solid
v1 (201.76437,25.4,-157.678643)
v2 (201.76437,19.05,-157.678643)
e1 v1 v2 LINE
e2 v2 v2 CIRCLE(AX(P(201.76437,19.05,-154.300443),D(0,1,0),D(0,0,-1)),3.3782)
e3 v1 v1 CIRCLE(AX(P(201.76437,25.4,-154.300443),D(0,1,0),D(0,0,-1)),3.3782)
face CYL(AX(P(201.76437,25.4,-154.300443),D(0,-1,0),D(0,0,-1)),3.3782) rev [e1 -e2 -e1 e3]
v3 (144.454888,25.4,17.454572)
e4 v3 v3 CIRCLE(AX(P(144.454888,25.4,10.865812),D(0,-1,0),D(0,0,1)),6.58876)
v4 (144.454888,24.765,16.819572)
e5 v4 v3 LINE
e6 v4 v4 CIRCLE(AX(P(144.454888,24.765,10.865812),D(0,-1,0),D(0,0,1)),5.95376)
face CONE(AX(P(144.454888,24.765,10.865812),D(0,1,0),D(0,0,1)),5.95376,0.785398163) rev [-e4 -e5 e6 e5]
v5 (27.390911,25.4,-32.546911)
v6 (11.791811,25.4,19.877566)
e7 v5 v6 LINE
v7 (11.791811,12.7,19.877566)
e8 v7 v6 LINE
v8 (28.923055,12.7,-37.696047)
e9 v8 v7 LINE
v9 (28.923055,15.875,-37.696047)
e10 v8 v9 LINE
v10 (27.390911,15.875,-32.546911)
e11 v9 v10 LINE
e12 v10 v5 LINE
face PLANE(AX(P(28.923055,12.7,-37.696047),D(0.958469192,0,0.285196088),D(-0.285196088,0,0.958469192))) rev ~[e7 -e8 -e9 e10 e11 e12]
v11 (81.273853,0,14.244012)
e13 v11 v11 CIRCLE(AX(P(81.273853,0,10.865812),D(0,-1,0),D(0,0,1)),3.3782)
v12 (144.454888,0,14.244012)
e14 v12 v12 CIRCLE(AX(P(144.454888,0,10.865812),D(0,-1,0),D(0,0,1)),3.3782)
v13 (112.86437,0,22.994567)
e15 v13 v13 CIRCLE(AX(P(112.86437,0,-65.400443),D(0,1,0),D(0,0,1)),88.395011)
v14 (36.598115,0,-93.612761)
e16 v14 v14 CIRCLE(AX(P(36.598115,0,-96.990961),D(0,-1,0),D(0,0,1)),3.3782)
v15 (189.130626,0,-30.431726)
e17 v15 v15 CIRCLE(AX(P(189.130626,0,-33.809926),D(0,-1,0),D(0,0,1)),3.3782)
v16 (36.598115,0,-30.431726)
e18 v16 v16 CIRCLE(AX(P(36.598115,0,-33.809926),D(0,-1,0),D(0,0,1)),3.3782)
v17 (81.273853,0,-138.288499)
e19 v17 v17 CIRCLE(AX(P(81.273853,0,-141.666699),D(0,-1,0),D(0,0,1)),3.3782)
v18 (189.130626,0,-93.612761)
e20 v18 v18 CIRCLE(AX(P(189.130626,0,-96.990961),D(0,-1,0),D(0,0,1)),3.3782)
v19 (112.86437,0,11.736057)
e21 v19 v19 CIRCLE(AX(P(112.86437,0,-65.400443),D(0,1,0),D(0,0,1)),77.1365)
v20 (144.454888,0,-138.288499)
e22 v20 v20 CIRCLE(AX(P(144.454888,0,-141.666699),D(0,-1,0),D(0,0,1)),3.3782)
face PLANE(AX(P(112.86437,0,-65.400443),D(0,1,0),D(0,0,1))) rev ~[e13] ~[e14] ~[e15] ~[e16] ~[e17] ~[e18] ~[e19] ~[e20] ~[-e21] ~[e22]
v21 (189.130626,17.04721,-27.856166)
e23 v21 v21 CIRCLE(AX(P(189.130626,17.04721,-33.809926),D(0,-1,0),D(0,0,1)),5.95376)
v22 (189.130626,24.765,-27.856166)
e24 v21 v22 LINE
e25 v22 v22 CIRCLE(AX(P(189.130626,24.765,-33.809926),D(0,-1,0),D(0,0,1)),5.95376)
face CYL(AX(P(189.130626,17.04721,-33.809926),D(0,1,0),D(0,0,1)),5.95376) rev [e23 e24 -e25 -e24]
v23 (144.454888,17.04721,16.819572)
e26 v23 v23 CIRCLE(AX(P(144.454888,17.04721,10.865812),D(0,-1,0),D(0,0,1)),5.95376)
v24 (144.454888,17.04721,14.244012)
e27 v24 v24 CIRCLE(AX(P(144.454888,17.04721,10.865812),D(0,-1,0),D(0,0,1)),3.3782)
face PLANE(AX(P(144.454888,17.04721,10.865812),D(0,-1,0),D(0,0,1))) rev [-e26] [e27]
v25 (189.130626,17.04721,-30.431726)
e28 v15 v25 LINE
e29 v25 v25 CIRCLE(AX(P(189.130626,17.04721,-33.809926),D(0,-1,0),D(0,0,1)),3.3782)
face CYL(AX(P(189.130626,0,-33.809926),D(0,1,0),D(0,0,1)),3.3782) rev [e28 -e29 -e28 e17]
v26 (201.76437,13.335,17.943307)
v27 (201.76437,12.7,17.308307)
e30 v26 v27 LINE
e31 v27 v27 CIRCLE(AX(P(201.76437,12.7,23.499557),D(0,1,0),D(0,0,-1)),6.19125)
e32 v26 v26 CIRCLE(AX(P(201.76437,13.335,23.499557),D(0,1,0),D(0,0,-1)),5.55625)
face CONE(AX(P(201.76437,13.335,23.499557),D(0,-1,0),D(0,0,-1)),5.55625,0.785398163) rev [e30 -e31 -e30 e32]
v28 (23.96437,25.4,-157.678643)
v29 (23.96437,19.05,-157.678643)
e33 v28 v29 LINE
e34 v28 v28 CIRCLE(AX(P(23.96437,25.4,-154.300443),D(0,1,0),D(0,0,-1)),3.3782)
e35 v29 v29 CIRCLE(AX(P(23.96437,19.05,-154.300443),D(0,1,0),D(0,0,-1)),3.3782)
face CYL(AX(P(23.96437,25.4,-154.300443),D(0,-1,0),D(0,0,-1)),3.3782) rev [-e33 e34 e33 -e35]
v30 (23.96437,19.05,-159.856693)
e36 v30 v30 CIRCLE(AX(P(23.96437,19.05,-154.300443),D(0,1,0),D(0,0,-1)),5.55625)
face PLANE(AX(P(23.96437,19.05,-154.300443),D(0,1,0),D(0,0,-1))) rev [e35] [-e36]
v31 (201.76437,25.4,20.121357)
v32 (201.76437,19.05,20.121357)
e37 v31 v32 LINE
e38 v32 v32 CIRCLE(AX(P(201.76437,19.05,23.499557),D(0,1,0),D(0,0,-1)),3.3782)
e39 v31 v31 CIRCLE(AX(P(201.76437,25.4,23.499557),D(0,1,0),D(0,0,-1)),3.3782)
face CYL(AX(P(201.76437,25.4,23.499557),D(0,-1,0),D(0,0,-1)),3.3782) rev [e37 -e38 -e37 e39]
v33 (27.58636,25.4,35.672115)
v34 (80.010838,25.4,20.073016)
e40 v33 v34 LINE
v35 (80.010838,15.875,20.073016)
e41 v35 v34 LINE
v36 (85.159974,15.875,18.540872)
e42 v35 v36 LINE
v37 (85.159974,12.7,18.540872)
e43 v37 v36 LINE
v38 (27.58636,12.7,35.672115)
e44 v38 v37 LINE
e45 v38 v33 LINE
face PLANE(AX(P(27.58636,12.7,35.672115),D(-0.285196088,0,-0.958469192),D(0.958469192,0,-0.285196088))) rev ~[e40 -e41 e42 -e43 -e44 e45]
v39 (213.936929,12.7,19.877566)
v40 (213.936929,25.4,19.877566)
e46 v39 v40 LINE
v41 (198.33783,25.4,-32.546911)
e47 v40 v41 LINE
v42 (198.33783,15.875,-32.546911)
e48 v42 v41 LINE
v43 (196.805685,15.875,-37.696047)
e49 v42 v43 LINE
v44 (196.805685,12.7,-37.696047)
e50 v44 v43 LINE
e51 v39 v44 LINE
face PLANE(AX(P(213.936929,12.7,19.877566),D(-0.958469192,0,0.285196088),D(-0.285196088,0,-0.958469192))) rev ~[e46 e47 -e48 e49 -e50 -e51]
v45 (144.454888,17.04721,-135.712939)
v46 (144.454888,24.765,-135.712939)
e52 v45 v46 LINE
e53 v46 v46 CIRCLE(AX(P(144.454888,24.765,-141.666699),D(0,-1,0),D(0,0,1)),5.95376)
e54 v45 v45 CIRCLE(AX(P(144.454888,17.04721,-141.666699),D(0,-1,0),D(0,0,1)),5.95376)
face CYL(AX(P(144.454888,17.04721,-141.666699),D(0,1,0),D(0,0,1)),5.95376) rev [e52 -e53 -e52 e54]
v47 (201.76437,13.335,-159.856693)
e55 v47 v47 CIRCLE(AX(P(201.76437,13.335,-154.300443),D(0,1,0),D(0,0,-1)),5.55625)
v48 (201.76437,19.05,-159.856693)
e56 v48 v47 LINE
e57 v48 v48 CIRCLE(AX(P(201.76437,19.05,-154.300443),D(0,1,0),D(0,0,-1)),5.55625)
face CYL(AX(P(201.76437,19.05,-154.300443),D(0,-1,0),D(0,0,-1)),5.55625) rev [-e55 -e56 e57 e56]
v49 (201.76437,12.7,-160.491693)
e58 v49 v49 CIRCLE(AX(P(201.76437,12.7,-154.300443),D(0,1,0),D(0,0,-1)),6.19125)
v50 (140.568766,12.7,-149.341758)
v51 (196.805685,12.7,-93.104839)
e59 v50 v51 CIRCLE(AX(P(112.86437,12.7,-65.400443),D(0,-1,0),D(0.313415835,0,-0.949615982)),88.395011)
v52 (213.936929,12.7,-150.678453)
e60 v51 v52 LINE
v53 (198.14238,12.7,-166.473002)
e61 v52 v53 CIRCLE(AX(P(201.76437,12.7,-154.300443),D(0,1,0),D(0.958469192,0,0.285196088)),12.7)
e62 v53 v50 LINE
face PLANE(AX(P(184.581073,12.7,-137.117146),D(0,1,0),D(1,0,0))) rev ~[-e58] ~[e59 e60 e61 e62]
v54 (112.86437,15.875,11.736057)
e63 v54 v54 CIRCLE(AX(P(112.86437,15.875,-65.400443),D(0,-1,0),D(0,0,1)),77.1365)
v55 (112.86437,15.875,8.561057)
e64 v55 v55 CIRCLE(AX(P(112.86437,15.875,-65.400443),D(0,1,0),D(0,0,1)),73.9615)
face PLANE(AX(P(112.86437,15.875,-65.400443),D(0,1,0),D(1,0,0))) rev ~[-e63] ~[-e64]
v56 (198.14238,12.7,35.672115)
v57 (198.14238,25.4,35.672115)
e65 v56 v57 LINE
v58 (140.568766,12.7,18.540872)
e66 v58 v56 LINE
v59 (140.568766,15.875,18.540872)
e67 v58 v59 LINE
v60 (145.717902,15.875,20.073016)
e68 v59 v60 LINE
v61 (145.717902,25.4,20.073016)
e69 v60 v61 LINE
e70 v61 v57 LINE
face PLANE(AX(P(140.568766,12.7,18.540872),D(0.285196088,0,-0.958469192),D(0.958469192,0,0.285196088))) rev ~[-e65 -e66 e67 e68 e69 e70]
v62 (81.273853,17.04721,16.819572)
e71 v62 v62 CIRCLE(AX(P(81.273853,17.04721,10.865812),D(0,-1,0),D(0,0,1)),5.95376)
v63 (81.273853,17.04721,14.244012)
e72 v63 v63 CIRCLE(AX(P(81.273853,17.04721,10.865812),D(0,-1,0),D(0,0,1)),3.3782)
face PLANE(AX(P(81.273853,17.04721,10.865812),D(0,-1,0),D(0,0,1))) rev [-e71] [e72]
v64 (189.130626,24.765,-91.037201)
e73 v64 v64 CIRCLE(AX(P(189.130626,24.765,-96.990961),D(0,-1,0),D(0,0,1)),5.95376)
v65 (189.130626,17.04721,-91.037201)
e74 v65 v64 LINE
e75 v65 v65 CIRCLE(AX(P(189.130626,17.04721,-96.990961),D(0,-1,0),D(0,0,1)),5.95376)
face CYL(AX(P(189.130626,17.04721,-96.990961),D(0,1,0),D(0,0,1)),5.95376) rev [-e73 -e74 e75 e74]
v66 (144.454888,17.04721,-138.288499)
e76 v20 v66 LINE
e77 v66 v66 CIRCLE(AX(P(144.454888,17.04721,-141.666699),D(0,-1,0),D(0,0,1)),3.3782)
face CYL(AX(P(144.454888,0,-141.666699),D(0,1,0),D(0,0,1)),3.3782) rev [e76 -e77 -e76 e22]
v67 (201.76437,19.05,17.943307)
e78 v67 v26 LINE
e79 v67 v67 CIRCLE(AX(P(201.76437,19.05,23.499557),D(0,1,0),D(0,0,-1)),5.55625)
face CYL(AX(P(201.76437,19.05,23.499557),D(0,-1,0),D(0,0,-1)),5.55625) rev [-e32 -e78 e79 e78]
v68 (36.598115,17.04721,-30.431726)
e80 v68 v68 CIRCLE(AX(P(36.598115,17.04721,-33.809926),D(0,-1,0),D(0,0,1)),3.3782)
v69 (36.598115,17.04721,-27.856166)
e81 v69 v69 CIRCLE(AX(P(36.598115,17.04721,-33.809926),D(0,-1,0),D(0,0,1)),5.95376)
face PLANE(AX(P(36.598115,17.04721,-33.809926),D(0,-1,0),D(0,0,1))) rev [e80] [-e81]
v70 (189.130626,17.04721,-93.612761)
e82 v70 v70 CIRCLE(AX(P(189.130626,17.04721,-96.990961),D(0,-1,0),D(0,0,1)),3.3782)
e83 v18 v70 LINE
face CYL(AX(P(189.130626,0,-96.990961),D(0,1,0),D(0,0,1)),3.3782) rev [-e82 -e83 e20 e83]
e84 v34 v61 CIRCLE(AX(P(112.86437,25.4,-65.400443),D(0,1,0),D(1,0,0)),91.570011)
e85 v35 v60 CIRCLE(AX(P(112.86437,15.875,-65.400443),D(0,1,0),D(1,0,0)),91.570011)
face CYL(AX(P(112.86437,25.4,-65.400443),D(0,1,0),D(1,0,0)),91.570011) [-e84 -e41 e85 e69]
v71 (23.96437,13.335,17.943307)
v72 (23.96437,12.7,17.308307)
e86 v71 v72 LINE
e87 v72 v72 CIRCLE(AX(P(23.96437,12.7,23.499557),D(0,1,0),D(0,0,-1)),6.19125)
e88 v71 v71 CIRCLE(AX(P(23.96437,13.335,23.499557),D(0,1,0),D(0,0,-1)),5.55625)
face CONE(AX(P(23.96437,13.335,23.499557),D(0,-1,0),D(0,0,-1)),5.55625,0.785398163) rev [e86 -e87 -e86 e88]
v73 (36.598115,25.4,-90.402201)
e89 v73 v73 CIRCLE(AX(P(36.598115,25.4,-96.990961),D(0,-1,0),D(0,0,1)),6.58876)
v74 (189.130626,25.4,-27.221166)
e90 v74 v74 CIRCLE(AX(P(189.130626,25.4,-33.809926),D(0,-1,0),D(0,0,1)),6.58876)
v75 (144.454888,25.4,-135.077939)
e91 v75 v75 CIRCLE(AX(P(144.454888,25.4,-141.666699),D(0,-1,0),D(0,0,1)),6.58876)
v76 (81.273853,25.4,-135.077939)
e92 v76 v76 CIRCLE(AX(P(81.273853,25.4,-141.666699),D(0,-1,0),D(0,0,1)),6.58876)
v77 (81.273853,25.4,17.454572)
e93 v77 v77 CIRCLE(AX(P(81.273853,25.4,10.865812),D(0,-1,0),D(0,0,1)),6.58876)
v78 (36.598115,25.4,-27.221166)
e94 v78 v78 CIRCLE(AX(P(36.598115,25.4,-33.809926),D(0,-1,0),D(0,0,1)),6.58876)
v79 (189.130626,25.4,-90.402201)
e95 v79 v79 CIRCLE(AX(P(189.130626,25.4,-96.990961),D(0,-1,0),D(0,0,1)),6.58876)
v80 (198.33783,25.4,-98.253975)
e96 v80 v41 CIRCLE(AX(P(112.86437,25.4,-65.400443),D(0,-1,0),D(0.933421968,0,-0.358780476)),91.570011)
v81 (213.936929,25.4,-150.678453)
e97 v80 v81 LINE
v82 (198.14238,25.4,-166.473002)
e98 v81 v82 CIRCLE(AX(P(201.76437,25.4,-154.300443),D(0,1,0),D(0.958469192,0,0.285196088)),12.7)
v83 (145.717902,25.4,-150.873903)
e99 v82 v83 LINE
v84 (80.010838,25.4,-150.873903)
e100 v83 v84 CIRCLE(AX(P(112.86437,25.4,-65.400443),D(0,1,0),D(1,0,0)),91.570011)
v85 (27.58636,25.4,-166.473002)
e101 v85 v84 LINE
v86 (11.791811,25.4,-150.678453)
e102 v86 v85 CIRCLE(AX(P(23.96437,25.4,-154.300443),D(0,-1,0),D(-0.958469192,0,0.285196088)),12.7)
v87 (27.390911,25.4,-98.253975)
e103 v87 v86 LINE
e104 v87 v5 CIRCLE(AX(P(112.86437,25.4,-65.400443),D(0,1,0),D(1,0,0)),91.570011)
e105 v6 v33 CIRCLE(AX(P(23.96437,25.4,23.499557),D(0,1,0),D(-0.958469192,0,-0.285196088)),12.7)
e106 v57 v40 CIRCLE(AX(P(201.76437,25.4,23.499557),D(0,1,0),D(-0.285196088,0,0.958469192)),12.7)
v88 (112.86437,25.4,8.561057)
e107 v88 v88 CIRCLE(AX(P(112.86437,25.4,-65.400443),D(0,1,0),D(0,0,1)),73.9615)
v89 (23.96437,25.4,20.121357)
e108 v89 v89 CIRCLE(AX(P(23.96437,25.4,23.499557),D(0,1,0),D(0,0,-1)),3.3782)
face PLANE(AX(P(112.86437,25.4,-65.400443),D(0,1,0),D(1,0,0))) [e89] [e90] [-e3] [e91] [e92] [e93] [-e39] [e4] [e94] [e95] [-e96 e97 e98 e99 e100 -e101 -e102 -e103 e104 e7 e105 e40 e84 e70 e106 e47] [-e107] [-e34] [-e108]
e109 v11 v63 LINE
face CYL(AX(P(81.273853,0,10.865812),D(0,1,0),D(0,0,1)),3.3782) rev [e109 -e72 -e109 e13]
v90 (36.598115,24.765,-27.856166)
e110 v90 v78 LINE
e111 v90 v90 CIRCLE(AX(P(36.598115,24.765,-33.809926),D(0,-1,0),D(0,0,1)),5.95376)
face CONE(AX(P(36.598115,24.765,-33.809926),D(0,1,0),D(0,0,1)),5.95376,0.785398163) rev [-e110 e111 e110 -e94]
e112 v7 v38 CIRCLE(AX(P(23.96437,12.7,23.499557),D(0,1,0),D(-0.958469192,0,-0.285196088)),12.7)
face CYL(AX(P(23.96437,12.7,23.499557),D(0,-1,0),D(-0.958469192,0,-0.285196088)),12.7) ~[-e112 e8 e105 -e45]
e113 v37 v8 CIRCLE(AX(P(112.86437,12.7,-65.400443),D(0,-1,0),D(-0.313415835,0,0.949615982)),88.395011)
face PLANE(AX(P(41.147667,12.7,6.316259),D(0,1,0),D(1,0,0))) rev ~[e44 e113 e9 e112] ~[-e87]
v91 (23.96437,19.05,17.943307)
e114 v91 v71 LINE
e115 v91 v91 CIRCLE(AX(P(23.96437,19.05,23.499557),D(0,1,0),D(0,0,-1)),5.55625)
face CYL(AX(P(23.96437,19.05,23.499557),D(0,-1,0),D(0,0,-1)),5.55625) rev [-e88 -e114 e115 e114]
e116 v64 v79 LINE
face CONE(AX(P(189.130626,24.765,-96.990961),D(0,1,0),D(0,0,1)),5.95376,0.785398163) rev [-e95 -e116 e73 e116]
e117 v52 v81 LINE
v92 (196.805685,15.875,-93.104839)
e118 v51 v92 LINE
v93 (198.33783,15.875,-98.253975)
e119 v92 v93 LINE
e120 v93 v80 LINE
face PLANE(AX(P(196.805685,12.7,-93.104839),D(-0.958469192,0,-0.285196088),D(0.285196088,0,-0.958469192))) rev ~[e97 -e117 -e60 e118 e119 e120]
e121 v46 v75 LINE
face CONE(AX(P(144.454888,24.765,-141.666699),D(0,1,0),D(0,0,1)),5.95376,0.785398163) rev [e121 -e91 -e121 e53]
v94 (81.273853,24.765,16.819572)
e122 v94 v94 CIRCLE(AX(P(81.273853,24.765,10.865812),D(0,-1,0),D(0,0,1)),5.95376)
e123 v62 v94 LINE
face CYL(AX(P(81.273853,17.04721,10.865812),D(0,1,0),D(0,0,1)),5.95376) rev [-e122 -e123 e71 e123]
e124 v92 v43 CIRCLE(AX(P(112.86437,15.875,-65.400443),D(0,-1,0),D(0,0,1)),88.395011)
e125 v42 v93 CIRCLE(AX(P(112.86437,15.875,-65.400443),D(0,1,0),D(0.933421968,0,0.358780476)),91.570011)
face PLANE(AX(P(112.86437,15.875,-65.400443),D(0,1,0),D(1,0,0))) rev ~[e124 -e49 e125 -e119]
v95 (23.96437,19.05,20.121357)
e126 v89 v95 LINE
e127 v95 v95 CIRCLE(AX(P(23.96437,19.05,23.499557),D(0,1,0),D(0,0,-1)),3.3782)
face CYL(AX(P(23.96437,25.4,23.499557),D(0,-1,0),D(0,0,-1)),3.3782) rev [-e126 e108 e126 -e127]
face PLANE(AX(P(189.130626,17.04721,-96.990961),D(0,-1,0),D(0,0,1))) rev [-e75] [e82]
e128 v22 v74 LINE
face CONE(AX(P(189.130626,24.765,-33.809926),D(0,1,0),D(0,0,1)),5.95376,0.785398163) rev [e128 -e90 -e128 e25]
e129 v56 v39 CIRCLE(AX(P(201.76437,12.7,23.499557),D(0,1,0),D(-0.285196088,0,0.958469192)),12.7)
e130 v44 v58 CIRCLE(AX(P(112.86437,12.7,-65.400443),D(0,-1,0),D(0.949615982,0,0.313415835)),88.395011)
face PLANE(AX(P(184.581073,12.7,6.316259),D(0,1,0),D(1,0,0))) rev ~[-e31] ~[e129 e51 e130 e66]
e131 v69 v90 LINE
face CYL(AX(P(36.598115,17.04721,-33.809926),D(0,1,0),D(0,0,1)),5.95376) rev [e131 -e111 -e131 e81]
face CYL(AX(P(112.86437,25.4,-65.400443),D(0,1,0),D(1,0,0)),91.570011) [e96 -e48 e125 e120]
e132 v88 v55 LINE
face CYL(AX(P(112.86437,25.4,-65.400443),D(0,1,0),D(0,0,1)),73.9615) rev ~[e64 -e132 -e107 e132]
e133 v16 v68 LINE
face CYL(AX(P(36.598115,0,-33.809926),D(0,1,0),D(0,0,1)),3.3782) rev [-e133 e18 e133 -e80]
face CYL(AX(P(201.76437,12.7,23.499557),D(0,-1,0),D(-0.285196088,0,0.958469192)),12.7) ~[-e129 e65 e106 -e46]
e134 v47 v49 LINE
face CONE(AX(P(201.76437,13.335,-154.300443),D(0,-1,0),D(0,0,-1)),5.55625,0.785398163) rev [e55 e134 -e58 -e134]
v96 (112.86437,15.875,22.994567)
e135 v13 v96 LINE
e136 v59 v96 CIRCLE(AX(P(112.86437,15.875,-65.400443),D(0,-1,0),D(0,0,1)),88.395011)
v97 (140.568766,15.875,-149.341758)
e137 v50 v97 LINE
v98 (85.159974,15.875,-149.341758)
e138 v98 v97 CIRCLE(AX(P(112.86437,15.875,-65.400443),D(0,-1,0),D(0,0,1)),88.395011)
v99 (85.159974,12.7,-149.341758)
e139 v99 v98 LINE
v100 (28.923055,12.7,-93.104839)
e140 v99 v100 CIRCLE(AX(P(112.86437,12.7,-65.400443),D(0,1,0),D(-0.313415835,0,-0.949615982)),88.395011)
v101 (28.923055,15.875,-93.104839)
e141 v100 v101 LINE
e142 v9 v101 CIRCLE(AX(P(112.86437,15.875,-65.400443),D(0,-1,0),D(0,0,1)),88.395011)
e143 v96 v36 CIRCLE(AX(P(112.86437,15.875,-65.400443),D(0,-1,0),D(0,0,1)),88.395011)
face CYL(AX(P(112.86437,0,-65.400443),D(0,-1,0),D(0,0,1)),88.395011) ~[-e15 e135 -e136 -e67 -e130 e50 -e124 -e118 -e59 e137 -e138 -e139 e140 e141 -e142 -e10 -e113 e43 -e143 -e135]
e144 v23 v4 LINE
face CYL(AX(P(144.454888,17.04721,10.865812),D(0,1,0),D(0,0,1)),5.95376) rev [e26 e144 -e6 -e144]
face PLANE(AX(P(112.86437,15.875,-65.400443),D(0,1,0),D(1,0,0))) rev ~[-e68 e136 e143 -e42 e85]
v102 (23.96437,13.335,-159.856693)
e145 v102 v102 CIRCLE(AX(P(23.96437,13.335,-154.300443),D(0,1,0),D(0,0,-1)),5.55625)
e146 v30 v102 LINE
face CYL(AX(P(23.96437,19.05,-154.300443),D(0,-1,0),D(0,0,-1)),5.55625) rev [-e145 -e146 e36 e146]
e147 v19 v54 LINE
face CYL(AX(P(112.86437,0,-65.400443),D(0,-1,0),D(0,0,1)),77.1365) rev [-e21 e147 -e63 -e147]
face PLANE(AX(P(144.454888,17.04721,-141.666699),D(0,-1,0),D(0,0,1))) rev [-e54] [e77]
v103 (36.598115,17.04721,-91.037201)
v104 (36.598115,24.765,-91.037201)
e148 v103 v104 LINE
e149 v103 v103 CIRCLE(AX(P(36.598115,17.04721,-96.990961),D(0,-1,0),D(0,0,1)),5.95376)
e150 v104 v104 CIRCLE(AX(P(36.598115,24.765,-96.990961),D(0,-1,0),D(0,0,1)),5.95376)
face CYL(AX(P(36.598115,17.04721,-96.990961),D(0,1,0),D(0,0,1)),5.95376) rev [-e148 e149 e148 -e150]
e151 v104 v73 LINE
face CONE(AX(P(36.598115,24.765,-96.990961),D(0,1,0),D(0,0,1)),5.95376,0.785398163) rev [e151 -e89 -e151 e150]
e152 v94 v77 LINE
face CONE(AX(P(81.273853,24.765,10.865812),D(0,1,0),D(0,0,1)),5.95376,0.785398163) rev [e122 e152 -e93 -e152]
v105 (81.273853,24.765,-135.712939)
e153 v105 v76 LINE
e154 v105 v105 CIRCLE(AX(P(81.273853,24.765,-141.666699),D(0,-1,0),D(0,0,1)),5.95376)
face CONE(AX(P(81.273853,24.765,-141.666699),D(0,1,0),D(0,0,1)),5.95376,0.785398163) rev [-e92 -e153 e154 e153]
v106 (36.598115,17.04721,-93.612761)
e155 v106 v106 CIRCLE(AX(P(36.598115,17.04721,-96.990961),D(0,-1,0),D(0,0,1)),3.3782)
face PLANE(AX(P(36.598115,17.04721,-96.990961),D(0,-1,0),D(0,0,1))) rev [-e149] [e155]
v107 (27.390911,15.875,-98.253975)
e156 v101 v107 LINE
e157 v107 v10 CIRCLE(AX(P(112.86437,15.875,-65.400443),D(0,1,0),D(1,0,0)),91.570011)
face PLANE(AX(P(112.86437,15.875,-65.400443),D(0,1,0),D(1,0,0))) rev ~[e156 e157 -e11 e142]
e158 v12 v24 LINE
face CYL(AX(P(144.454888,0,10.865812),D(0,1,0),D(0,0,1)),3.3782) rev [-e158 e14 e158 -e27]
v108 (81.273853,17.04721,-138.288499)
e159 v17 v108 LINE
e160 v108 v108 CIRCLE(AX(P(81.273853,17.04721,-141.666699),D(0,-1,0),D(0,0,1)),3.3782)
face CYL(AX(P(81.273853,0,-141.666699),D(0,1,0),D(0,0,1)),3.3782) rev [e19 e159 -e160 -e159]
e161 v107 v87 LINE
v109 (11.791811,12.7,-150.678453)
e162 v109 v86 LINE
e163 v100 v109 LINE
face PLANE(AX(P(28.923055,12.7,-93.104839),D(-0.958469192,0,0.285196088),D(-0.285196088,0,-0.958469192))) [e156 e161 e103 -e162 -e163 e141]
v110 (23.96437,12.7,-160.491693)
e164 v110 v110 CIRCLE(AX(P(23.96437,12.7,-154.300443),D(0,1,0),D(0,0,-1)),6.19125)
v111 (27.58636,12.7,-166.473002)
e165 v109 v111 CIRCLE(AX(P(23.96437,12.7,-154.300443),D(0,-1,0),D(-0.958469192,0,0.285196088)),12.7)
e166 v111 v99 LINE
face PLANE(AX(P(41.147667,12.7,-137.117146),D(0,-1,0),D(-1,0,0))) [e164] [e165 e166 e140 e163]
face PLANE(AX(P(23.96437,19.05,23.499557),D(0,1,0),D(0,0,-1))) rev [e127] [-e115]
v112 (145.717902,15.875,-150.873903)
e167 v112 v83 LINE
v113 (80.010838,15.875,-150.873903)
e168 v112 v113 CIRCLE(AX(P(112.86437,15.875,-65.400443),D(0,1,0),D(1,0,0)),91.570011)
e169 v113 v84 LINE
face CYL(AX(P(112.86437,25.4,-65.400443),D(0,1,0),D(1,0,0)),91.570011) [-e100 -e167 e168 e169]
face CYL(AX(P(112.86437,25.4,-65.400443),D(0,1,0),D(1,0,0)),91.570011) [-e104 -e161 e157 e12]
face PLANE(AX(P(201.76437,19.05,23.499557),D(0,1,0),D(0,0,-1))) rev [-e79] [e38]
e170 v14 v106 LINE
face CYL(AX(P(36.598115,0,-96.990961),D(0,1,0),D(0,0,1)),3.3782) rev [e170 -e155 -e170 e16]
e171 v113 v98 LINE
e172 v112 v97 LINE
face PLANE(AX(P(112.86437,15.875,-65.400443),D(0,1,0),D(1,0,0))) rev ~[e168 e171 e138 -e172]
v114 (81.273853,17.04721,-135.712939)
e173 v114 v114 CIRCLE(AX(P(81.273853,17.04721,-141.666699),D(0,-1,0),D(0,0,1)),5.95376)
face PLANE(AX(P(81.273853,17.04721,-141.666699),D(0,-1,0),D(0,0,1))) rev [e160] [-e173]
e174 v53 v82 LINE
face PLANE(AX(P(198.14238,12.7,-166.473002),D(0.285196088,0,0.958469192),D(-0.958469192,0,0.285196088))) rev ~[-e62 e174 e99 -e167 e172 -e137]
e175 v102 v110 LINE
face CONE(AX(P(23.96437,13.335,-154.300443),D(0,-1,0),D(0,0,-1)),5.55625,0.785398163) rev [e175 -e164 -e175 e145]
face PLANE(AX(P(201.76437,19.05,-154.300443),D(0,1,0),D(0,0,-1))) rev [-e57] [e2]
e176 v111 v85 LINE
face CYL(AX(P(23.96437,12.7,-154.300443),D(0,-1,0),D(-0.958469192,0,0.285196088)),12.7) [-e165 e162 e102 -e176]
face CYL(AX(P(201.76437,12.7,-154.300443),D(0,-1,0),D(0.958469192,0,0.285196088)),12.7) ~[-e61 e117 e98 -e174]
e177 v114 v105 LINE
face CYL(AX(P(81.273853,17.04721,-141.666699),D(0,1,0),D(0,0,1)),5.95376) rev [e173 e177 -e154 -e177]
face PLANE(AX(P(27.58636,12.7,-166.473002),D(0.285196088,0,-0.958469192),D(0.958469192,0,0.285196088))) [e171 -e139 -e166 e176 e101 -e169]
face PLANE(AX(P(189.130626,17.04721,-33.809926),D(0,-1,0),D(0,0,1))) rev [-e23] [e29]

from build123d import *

# Parameters (mm, degrees)
SKETCH2_R                                     = 88.395010725
SKETCH2_R_2                                   = 77.1365
BOSS_EXTRUDE1_DEPTH                           = 25.4
BOSS_EXTRUDE2_START                           = -12.7
BOSS_EXTRUDE2_DEPTH                           = 12.7
CBORE_FOR_1_4_SOCKET_HEAD_CAP_SCREW1_AT_COUNT = 2
CBORE_FOR_1_4_SOCKET_HEAD_CAP_SCREW1_AT_PITCH = 177.8
CBORE_FOR_1_4_SOCKET_HEAD_CAP_SCREW1_2_COUNT  = 2
CBORE_FOR_1_4_SOCKET_HEAD_CAP_SCREW1_2_PITCH  = 251.44717139
CBORE_FOR_1_4_SOCKET_HEAD_CAP_SCREW1_3_COUNT  = 2
CBORE_FOR_1_4_SOCKET_HEAD_CAP_SCREW1_3_PITCH  = 177.8
SKETCH10_R                                    = 91.570010725
SKETCH10_R_2                                  = 73.9615
BOSS_EXTRUDE3_DEPTH                           = 9.525
CBORE_FOR_1_4_BUTTON_HEAD_CAP_SCREW1_AT_COUNT = 2
CBORE_FOR_1_4_BUTTON_HEAD_CAP_SCREW1_AT_PITCH = 63.181034683
CBORE_FOR_1_4_BUTTON_HEAD_CAP_SCREW1_2_COUNT  = 2
CBORE_FOR_1_4_BUTTON_HEAD_CAP_SCREW1_2_PITCH  = 116.743329574
CBORE_FOR_1_4_BUTTON_HEAD_CAP_SCREW1_3_COUNT  = 2
CBORE_FOR_1_4_BUTTON_HEAD_CAP_SCREW1_3_PITCH  = 152.532510818
CBORE_FOR_1_4_BUTTON_HEAD_CAP_SCREW1_4_COUNT  = 2
CBORE_FOR_1_4_BUTTON_HEAD_CAP_SCREW1_4_PITCH  = 165.1
CBORE_FOR_1_4_BUTTON_HEAD_CAP_SCREW1_5_COUNT  = 2
CBORE_FOR_1_4_BUTTON_HEAD_CAP_SCREW1_5_PITCH  = 152.532510818
CBORE_FOR_1_4_BUTTON_HEAD_CAP_SCREW1_6_COUNT  = 2
CBORE_FOR_1_4_BUTTON_HEAD_CAP_SCREW1_6_PITCH  = 116.743329574
CBORE_FOR_1_4_BUTTON_HEAD_CAP_SCREW1_7_COUNT  = 2
CBORE_FOR_1_4_BUTTON_HEAD_CAP_SCREW1_7_PITCH  = 63.181034683


with BuildPart() as part:
    # Sketch2 → Boss-Extrude1 (new body)
    with BuildSketch(Plane(origin=(0, 0, 0), x_dir=(1, 0, 0), z_dir=(0, 1, 0))):
        with Locations(Location((112.864370177, 65.400443246, 0), (0, 0, 270))):
            Circle(SKETCH2_R)
        with Locations(Location((112.864370177, 65.400443246, 0), (0, 0, 270))):
            Circle(SKETCH2_R_2, mode=Mode.SUBTRACT)
    extrude(amount=BOSS_EXTRUDE1_DEPTH)

    # Sketch7 → Boss-Extrude2 (add)
    with BuildSketch(Plane(origin=(0, 25.4, 0), x_dir=(1, 0, 0), z_dir=(0, 1, 0)).offset(BOSS_EXTRUDE2_START)):
        with BuildLine():
            Line((27.586360499, 166.473001979), (85.159974048, 149.341758199))
            ThreePointArc((85.159974048, 149.341758199), (50.359658671, 127.905154752), (28.923055224, 93.104839375))
            Line((28.923055224, 93.104839375), (11.791811444, 150.678452924))
            ThreePointArc((11.791811444, 150.678452924), (14.984114056, 163.280699367), (27.586360499, 166.473001979))
        make_face()
        with BuildLine():
            Line((198.142379855, 166.473001979), (140.568766306, 149.341758199))
            ThreePointArc((140.568766306, 149.341758199), (175.369081684, 127.905154752), (196.805685131, 93.104839375))
            Line((196.805685131, 93.104839375), (213.93692891, 150.678452924))
            ThreePointArc((213.93692891, 150.678452924), (210.744626298, 163.280699367), (198.142379855, 166.473001979))
        make_face()
        with BuildLine():
            Line((213.93692891, -19.877566432), (196.805685131, 37.696047117))
            ThreePointArc((196.805685131, 37.696047117), (175.369081684, 2.89573174), (140.568766306, -18.540871708))
            Line((140.568766306, -18.540871708), (198.142379855, -35.672115487))
            ThreePointArc((198.142379855, -35.672115487), (210.744626298, -32.479812875), (213.93692891, -19.877566432))
        make_face()
        with BuildLine():
            Line((27.586360499, -35.672115487), (85.159974048, -18.540871708))
            ThreePointArc((85.159974048, -18.540871708), (50.359658671, 2.89573174), (28.923055224, 37.696047117))
            Line((28.923055224, 37.696047117), (11.791811444, -19.877566432))
            ThreePointArc((11.791811444, -19.877566432), (14.984114056, -32.479812875), (27.586360499, -35.672115487))
        make_face()
    extrude(amount=BOSS_EXTRUDE2_DEPTH)

    # Sketch9 → CBORE for 1/4 Socket Head Cap Screw1 (revolve, cut)
    with BuildSketch(Plane(origin=(23.964370177, 12.7, 23.499556754), x_dir=(0, 0, -1), z_dir=(1, 0, 0))):
        Polygon((0, 0), (0, 12.7), (3.3782, 12.7), (3.3782, 6.35), (5.55625, 6.35), (5.55625, 0.635), (6.19125, 0), align=None)
    cbore_for_1_4_socket_head_cap_screw1 = revolve(axis=Axis((23.964370177, 6.35, 23.499556754), (0, 1, 0)), mode=Mode.SUBTRACT)

    # CBORE for 1/4 Socket Head Cap Screw1 at: CBORE for 1/4 Socket Head Cap Screw1 ×2
    with Locations(*[(i * CBORE_FOR_1_4_SOCKET_HEAD_CAP_SCREW1_AT_PITCH, 0, 0) for i in range(1, CBORE_FOR_1_4_SOCKET_HEAD_CAP_SCREW1_AT_COUNT)]):
        add(cbore_for_1_4_socket_head_cap_screw1, mode=Mode.SUBTRACT)

    # CBORE for 1_4 Socket Head Cap Screw1 2: CBORE for 1/4 Socket Head Cap Screw1 ×2
    with Locations(*[Vector(0.7071067811865512, 0, -0.7071067811865438) * (i * CBORE_FOR_1_4_SOCKET_HEAD_CAP_SCREW1_2_PITCH) for i in range(1, CBORE_FOR_1_4_SOCKET_HEAD_CAP_SCREW1_2_COUNT)]):
        add(cbore_for_1_4_socket_head_cap_screw1, mode=Mode.SUBTRACT)

    # CBORE for 1_4 Socket Head Cap Screw1 3: CBORE for 1/4 Socket Head Cap Screw1 ×2
    with Locations(*[(0, 0, -i * CBORE_FOR_1_4_SOCKET_HEAD_CAP_SCREW1_3_PITCH) for i in range(1, CBORE_FOR_1_4_SOCKET_HEAD_CAP_SCREW1_3_COUNT)]):
        add(cbore_for_1_4_socket_head_cap_screw1, mode=Mode.SUBTRACT)

    # Sketch10 → Boss-Extrude3 (add)
    with BuildSketch(Plane(origin=(0, 25.4, 0), x_dir=(1, 0, 0), z_dir=(0, 1, 0))):
        with Locations((112.864370177, 65.400443246)):
            Circle(SKETCH10_R)
        with Locations(Location((112.864370177, 65.400443246, 0), (0, 0, 270))):
            Circle(SKETCH10_R_2, mode=Mode.SUBTRACT)
    extrude(amount=-BOSS_EXTRUDE3_DEPTH)

    # Sketch12 → CBORE for 1/4 Button Head Cap Screw1 (revolve, cut)
    with BuildSketch(Plane(origin=(36.598114768, 25.4, -33.809925904), x_dir=(0, 0, 1), z_dir=(1, 0, 0))):
        Polygon((0, 0), (0, 25.4), (3.3782, 25.4), (3.3782, 8.35279), (5.95376, 8.35279), (5.95376, 0.635), (6.58876, 0), align=None)
    cbore_for_1_4_button_head_cap_screw1 = revolve(axis=Axis((36.598114768, 31.75, -33.809925904), (0, -1, 0)), mode=Mode.SUBTRACT)

    # CBORE for 1/4 Button Head Cap Screw1 at: CBORE for 1/4 Button Head Cap Screw1 ×2
    with Locations(*[(0, 0, -i * CBORE_FOR_1_4_BUTTON_HEAD_CAP_SCREW1_AT_PITCH) for i in range(1, CBORE_FOR_1_4_BUTTON_HEAD_CAP_SCREW1_AT_COUNT)]):
        add(cbore_for_1_4_button_head_cap_screw1, mode=Mode.SUBTRACT)

    # CBORE for 1_4 Button Head Cap Screw1 2: CBORE for 1/4 Button Head Cap Screw1 ×2
    with Locations(*[Vector(0.3826834323650937, 0, -0.9238795325112852) * (i * CBORE_FOR_1_4_BUTTON_HEAD_CAP_SCREW1_2_PITCH) for i in range(1, CBORE_FOR_1_4_BUTTON_HEAD_CAP_SCREW1_2_COUNT)]):
        add(cbore_for_1_4_button_head_cap_screw1, mode=Mode.SUBTRACT)

    # CBORE for 1_4 Button Head Cap Screw1 3: CBORE for 1/4 Button Head Cap Screw1 ×2
    with Locations(*[Vector(0.7071067811865462, 0, -0.7071067811865489) * (i * CBORE_FOR_1_4_BUTTON_HEAD_CAP_SCREW1_3_PITCH) for i in range(1, CBORE_FOR_1_4_BUTTON_HEAD_CAP_SCREW1_3_COUNT)]):
        add(cbore_for_1_4_button_head_cap_screw1, mode=Mode.SUBTRACT)

    # CBORE for 1_4 Button Head Cap Screw1 4: CBORE for 1/4 Button Head Cap Screw1 ×2
    with Locations(*[Vector(0.9238795325112864, 0, -0.38268343236509067) * (i * CBORE_FOR_1_4_BUTTON_HEAD_CAP_SCREW1_4_PITCH) for i in range(1, CBORE_FOR_1_4_BUTTON_HEAD_CAP_SCREW1_4_COUNT)]):
        add(cbore_for_1_4_button_head_cap_screw1, mode=Mode.SUBTRACT)

    # CBORE for 1_4 Button Head Cap Screw1 5: CBORE for 1/4 Button Head Cap Screw1 ×2
    with Locations(*[(i * CBORE_FOR_1_4_BUTTON_HEAD_CAP_SCREW1_5_PITCH, 0, 0) for i in range(1, CBORE_FOR_1_4_BUTTON_HEAD_CAP_SCREW1_5_COUNT)]):
        add(cbore_for_1_4_button_head_cap_screw1, mode=Mode.SUBTRACT)

    # CBORE for 1_4 Button Head Cap Screw1 6: CBORE for 1/4 Button Head Cap Screw1 ×2
    with Locations(*[Vector(0.9238795325112864, 0, 0.3826834323650908) * (i * CBORE_FOR_1_4_BUTTON_HEAD_CAP_SCREW1_6_PITCH) for i in range(1, CBORE_FOR_1_4_BUTTON_HEAD_CAP_SCREW1_6_COUNT)]):
        add(cbore_for_1_4_button_head_cap_screw1, mode=Mode.SUBTRACT)

    # CBORE for 1_4 Button Head Cap Screw1 7: CBORE for 1/4 Button Head Cap Screw1 ×2
    with Locations(*[Vector(0.7071067811865459, 0, 0.7071067811865491) * (i * CBORE_FOR_1_4_BUTTON_HEAD_CAP_SCREW1_7_PITCH) for i in range(1, CBORE_FOR_1_4_BUTTON_HEAD_CAP_SCREW1_7_COUNT)]):
        add(cbore_for_1_4_button_head_cap_screw1, mode=Mode.SUBTRACT)


solid = part.part
